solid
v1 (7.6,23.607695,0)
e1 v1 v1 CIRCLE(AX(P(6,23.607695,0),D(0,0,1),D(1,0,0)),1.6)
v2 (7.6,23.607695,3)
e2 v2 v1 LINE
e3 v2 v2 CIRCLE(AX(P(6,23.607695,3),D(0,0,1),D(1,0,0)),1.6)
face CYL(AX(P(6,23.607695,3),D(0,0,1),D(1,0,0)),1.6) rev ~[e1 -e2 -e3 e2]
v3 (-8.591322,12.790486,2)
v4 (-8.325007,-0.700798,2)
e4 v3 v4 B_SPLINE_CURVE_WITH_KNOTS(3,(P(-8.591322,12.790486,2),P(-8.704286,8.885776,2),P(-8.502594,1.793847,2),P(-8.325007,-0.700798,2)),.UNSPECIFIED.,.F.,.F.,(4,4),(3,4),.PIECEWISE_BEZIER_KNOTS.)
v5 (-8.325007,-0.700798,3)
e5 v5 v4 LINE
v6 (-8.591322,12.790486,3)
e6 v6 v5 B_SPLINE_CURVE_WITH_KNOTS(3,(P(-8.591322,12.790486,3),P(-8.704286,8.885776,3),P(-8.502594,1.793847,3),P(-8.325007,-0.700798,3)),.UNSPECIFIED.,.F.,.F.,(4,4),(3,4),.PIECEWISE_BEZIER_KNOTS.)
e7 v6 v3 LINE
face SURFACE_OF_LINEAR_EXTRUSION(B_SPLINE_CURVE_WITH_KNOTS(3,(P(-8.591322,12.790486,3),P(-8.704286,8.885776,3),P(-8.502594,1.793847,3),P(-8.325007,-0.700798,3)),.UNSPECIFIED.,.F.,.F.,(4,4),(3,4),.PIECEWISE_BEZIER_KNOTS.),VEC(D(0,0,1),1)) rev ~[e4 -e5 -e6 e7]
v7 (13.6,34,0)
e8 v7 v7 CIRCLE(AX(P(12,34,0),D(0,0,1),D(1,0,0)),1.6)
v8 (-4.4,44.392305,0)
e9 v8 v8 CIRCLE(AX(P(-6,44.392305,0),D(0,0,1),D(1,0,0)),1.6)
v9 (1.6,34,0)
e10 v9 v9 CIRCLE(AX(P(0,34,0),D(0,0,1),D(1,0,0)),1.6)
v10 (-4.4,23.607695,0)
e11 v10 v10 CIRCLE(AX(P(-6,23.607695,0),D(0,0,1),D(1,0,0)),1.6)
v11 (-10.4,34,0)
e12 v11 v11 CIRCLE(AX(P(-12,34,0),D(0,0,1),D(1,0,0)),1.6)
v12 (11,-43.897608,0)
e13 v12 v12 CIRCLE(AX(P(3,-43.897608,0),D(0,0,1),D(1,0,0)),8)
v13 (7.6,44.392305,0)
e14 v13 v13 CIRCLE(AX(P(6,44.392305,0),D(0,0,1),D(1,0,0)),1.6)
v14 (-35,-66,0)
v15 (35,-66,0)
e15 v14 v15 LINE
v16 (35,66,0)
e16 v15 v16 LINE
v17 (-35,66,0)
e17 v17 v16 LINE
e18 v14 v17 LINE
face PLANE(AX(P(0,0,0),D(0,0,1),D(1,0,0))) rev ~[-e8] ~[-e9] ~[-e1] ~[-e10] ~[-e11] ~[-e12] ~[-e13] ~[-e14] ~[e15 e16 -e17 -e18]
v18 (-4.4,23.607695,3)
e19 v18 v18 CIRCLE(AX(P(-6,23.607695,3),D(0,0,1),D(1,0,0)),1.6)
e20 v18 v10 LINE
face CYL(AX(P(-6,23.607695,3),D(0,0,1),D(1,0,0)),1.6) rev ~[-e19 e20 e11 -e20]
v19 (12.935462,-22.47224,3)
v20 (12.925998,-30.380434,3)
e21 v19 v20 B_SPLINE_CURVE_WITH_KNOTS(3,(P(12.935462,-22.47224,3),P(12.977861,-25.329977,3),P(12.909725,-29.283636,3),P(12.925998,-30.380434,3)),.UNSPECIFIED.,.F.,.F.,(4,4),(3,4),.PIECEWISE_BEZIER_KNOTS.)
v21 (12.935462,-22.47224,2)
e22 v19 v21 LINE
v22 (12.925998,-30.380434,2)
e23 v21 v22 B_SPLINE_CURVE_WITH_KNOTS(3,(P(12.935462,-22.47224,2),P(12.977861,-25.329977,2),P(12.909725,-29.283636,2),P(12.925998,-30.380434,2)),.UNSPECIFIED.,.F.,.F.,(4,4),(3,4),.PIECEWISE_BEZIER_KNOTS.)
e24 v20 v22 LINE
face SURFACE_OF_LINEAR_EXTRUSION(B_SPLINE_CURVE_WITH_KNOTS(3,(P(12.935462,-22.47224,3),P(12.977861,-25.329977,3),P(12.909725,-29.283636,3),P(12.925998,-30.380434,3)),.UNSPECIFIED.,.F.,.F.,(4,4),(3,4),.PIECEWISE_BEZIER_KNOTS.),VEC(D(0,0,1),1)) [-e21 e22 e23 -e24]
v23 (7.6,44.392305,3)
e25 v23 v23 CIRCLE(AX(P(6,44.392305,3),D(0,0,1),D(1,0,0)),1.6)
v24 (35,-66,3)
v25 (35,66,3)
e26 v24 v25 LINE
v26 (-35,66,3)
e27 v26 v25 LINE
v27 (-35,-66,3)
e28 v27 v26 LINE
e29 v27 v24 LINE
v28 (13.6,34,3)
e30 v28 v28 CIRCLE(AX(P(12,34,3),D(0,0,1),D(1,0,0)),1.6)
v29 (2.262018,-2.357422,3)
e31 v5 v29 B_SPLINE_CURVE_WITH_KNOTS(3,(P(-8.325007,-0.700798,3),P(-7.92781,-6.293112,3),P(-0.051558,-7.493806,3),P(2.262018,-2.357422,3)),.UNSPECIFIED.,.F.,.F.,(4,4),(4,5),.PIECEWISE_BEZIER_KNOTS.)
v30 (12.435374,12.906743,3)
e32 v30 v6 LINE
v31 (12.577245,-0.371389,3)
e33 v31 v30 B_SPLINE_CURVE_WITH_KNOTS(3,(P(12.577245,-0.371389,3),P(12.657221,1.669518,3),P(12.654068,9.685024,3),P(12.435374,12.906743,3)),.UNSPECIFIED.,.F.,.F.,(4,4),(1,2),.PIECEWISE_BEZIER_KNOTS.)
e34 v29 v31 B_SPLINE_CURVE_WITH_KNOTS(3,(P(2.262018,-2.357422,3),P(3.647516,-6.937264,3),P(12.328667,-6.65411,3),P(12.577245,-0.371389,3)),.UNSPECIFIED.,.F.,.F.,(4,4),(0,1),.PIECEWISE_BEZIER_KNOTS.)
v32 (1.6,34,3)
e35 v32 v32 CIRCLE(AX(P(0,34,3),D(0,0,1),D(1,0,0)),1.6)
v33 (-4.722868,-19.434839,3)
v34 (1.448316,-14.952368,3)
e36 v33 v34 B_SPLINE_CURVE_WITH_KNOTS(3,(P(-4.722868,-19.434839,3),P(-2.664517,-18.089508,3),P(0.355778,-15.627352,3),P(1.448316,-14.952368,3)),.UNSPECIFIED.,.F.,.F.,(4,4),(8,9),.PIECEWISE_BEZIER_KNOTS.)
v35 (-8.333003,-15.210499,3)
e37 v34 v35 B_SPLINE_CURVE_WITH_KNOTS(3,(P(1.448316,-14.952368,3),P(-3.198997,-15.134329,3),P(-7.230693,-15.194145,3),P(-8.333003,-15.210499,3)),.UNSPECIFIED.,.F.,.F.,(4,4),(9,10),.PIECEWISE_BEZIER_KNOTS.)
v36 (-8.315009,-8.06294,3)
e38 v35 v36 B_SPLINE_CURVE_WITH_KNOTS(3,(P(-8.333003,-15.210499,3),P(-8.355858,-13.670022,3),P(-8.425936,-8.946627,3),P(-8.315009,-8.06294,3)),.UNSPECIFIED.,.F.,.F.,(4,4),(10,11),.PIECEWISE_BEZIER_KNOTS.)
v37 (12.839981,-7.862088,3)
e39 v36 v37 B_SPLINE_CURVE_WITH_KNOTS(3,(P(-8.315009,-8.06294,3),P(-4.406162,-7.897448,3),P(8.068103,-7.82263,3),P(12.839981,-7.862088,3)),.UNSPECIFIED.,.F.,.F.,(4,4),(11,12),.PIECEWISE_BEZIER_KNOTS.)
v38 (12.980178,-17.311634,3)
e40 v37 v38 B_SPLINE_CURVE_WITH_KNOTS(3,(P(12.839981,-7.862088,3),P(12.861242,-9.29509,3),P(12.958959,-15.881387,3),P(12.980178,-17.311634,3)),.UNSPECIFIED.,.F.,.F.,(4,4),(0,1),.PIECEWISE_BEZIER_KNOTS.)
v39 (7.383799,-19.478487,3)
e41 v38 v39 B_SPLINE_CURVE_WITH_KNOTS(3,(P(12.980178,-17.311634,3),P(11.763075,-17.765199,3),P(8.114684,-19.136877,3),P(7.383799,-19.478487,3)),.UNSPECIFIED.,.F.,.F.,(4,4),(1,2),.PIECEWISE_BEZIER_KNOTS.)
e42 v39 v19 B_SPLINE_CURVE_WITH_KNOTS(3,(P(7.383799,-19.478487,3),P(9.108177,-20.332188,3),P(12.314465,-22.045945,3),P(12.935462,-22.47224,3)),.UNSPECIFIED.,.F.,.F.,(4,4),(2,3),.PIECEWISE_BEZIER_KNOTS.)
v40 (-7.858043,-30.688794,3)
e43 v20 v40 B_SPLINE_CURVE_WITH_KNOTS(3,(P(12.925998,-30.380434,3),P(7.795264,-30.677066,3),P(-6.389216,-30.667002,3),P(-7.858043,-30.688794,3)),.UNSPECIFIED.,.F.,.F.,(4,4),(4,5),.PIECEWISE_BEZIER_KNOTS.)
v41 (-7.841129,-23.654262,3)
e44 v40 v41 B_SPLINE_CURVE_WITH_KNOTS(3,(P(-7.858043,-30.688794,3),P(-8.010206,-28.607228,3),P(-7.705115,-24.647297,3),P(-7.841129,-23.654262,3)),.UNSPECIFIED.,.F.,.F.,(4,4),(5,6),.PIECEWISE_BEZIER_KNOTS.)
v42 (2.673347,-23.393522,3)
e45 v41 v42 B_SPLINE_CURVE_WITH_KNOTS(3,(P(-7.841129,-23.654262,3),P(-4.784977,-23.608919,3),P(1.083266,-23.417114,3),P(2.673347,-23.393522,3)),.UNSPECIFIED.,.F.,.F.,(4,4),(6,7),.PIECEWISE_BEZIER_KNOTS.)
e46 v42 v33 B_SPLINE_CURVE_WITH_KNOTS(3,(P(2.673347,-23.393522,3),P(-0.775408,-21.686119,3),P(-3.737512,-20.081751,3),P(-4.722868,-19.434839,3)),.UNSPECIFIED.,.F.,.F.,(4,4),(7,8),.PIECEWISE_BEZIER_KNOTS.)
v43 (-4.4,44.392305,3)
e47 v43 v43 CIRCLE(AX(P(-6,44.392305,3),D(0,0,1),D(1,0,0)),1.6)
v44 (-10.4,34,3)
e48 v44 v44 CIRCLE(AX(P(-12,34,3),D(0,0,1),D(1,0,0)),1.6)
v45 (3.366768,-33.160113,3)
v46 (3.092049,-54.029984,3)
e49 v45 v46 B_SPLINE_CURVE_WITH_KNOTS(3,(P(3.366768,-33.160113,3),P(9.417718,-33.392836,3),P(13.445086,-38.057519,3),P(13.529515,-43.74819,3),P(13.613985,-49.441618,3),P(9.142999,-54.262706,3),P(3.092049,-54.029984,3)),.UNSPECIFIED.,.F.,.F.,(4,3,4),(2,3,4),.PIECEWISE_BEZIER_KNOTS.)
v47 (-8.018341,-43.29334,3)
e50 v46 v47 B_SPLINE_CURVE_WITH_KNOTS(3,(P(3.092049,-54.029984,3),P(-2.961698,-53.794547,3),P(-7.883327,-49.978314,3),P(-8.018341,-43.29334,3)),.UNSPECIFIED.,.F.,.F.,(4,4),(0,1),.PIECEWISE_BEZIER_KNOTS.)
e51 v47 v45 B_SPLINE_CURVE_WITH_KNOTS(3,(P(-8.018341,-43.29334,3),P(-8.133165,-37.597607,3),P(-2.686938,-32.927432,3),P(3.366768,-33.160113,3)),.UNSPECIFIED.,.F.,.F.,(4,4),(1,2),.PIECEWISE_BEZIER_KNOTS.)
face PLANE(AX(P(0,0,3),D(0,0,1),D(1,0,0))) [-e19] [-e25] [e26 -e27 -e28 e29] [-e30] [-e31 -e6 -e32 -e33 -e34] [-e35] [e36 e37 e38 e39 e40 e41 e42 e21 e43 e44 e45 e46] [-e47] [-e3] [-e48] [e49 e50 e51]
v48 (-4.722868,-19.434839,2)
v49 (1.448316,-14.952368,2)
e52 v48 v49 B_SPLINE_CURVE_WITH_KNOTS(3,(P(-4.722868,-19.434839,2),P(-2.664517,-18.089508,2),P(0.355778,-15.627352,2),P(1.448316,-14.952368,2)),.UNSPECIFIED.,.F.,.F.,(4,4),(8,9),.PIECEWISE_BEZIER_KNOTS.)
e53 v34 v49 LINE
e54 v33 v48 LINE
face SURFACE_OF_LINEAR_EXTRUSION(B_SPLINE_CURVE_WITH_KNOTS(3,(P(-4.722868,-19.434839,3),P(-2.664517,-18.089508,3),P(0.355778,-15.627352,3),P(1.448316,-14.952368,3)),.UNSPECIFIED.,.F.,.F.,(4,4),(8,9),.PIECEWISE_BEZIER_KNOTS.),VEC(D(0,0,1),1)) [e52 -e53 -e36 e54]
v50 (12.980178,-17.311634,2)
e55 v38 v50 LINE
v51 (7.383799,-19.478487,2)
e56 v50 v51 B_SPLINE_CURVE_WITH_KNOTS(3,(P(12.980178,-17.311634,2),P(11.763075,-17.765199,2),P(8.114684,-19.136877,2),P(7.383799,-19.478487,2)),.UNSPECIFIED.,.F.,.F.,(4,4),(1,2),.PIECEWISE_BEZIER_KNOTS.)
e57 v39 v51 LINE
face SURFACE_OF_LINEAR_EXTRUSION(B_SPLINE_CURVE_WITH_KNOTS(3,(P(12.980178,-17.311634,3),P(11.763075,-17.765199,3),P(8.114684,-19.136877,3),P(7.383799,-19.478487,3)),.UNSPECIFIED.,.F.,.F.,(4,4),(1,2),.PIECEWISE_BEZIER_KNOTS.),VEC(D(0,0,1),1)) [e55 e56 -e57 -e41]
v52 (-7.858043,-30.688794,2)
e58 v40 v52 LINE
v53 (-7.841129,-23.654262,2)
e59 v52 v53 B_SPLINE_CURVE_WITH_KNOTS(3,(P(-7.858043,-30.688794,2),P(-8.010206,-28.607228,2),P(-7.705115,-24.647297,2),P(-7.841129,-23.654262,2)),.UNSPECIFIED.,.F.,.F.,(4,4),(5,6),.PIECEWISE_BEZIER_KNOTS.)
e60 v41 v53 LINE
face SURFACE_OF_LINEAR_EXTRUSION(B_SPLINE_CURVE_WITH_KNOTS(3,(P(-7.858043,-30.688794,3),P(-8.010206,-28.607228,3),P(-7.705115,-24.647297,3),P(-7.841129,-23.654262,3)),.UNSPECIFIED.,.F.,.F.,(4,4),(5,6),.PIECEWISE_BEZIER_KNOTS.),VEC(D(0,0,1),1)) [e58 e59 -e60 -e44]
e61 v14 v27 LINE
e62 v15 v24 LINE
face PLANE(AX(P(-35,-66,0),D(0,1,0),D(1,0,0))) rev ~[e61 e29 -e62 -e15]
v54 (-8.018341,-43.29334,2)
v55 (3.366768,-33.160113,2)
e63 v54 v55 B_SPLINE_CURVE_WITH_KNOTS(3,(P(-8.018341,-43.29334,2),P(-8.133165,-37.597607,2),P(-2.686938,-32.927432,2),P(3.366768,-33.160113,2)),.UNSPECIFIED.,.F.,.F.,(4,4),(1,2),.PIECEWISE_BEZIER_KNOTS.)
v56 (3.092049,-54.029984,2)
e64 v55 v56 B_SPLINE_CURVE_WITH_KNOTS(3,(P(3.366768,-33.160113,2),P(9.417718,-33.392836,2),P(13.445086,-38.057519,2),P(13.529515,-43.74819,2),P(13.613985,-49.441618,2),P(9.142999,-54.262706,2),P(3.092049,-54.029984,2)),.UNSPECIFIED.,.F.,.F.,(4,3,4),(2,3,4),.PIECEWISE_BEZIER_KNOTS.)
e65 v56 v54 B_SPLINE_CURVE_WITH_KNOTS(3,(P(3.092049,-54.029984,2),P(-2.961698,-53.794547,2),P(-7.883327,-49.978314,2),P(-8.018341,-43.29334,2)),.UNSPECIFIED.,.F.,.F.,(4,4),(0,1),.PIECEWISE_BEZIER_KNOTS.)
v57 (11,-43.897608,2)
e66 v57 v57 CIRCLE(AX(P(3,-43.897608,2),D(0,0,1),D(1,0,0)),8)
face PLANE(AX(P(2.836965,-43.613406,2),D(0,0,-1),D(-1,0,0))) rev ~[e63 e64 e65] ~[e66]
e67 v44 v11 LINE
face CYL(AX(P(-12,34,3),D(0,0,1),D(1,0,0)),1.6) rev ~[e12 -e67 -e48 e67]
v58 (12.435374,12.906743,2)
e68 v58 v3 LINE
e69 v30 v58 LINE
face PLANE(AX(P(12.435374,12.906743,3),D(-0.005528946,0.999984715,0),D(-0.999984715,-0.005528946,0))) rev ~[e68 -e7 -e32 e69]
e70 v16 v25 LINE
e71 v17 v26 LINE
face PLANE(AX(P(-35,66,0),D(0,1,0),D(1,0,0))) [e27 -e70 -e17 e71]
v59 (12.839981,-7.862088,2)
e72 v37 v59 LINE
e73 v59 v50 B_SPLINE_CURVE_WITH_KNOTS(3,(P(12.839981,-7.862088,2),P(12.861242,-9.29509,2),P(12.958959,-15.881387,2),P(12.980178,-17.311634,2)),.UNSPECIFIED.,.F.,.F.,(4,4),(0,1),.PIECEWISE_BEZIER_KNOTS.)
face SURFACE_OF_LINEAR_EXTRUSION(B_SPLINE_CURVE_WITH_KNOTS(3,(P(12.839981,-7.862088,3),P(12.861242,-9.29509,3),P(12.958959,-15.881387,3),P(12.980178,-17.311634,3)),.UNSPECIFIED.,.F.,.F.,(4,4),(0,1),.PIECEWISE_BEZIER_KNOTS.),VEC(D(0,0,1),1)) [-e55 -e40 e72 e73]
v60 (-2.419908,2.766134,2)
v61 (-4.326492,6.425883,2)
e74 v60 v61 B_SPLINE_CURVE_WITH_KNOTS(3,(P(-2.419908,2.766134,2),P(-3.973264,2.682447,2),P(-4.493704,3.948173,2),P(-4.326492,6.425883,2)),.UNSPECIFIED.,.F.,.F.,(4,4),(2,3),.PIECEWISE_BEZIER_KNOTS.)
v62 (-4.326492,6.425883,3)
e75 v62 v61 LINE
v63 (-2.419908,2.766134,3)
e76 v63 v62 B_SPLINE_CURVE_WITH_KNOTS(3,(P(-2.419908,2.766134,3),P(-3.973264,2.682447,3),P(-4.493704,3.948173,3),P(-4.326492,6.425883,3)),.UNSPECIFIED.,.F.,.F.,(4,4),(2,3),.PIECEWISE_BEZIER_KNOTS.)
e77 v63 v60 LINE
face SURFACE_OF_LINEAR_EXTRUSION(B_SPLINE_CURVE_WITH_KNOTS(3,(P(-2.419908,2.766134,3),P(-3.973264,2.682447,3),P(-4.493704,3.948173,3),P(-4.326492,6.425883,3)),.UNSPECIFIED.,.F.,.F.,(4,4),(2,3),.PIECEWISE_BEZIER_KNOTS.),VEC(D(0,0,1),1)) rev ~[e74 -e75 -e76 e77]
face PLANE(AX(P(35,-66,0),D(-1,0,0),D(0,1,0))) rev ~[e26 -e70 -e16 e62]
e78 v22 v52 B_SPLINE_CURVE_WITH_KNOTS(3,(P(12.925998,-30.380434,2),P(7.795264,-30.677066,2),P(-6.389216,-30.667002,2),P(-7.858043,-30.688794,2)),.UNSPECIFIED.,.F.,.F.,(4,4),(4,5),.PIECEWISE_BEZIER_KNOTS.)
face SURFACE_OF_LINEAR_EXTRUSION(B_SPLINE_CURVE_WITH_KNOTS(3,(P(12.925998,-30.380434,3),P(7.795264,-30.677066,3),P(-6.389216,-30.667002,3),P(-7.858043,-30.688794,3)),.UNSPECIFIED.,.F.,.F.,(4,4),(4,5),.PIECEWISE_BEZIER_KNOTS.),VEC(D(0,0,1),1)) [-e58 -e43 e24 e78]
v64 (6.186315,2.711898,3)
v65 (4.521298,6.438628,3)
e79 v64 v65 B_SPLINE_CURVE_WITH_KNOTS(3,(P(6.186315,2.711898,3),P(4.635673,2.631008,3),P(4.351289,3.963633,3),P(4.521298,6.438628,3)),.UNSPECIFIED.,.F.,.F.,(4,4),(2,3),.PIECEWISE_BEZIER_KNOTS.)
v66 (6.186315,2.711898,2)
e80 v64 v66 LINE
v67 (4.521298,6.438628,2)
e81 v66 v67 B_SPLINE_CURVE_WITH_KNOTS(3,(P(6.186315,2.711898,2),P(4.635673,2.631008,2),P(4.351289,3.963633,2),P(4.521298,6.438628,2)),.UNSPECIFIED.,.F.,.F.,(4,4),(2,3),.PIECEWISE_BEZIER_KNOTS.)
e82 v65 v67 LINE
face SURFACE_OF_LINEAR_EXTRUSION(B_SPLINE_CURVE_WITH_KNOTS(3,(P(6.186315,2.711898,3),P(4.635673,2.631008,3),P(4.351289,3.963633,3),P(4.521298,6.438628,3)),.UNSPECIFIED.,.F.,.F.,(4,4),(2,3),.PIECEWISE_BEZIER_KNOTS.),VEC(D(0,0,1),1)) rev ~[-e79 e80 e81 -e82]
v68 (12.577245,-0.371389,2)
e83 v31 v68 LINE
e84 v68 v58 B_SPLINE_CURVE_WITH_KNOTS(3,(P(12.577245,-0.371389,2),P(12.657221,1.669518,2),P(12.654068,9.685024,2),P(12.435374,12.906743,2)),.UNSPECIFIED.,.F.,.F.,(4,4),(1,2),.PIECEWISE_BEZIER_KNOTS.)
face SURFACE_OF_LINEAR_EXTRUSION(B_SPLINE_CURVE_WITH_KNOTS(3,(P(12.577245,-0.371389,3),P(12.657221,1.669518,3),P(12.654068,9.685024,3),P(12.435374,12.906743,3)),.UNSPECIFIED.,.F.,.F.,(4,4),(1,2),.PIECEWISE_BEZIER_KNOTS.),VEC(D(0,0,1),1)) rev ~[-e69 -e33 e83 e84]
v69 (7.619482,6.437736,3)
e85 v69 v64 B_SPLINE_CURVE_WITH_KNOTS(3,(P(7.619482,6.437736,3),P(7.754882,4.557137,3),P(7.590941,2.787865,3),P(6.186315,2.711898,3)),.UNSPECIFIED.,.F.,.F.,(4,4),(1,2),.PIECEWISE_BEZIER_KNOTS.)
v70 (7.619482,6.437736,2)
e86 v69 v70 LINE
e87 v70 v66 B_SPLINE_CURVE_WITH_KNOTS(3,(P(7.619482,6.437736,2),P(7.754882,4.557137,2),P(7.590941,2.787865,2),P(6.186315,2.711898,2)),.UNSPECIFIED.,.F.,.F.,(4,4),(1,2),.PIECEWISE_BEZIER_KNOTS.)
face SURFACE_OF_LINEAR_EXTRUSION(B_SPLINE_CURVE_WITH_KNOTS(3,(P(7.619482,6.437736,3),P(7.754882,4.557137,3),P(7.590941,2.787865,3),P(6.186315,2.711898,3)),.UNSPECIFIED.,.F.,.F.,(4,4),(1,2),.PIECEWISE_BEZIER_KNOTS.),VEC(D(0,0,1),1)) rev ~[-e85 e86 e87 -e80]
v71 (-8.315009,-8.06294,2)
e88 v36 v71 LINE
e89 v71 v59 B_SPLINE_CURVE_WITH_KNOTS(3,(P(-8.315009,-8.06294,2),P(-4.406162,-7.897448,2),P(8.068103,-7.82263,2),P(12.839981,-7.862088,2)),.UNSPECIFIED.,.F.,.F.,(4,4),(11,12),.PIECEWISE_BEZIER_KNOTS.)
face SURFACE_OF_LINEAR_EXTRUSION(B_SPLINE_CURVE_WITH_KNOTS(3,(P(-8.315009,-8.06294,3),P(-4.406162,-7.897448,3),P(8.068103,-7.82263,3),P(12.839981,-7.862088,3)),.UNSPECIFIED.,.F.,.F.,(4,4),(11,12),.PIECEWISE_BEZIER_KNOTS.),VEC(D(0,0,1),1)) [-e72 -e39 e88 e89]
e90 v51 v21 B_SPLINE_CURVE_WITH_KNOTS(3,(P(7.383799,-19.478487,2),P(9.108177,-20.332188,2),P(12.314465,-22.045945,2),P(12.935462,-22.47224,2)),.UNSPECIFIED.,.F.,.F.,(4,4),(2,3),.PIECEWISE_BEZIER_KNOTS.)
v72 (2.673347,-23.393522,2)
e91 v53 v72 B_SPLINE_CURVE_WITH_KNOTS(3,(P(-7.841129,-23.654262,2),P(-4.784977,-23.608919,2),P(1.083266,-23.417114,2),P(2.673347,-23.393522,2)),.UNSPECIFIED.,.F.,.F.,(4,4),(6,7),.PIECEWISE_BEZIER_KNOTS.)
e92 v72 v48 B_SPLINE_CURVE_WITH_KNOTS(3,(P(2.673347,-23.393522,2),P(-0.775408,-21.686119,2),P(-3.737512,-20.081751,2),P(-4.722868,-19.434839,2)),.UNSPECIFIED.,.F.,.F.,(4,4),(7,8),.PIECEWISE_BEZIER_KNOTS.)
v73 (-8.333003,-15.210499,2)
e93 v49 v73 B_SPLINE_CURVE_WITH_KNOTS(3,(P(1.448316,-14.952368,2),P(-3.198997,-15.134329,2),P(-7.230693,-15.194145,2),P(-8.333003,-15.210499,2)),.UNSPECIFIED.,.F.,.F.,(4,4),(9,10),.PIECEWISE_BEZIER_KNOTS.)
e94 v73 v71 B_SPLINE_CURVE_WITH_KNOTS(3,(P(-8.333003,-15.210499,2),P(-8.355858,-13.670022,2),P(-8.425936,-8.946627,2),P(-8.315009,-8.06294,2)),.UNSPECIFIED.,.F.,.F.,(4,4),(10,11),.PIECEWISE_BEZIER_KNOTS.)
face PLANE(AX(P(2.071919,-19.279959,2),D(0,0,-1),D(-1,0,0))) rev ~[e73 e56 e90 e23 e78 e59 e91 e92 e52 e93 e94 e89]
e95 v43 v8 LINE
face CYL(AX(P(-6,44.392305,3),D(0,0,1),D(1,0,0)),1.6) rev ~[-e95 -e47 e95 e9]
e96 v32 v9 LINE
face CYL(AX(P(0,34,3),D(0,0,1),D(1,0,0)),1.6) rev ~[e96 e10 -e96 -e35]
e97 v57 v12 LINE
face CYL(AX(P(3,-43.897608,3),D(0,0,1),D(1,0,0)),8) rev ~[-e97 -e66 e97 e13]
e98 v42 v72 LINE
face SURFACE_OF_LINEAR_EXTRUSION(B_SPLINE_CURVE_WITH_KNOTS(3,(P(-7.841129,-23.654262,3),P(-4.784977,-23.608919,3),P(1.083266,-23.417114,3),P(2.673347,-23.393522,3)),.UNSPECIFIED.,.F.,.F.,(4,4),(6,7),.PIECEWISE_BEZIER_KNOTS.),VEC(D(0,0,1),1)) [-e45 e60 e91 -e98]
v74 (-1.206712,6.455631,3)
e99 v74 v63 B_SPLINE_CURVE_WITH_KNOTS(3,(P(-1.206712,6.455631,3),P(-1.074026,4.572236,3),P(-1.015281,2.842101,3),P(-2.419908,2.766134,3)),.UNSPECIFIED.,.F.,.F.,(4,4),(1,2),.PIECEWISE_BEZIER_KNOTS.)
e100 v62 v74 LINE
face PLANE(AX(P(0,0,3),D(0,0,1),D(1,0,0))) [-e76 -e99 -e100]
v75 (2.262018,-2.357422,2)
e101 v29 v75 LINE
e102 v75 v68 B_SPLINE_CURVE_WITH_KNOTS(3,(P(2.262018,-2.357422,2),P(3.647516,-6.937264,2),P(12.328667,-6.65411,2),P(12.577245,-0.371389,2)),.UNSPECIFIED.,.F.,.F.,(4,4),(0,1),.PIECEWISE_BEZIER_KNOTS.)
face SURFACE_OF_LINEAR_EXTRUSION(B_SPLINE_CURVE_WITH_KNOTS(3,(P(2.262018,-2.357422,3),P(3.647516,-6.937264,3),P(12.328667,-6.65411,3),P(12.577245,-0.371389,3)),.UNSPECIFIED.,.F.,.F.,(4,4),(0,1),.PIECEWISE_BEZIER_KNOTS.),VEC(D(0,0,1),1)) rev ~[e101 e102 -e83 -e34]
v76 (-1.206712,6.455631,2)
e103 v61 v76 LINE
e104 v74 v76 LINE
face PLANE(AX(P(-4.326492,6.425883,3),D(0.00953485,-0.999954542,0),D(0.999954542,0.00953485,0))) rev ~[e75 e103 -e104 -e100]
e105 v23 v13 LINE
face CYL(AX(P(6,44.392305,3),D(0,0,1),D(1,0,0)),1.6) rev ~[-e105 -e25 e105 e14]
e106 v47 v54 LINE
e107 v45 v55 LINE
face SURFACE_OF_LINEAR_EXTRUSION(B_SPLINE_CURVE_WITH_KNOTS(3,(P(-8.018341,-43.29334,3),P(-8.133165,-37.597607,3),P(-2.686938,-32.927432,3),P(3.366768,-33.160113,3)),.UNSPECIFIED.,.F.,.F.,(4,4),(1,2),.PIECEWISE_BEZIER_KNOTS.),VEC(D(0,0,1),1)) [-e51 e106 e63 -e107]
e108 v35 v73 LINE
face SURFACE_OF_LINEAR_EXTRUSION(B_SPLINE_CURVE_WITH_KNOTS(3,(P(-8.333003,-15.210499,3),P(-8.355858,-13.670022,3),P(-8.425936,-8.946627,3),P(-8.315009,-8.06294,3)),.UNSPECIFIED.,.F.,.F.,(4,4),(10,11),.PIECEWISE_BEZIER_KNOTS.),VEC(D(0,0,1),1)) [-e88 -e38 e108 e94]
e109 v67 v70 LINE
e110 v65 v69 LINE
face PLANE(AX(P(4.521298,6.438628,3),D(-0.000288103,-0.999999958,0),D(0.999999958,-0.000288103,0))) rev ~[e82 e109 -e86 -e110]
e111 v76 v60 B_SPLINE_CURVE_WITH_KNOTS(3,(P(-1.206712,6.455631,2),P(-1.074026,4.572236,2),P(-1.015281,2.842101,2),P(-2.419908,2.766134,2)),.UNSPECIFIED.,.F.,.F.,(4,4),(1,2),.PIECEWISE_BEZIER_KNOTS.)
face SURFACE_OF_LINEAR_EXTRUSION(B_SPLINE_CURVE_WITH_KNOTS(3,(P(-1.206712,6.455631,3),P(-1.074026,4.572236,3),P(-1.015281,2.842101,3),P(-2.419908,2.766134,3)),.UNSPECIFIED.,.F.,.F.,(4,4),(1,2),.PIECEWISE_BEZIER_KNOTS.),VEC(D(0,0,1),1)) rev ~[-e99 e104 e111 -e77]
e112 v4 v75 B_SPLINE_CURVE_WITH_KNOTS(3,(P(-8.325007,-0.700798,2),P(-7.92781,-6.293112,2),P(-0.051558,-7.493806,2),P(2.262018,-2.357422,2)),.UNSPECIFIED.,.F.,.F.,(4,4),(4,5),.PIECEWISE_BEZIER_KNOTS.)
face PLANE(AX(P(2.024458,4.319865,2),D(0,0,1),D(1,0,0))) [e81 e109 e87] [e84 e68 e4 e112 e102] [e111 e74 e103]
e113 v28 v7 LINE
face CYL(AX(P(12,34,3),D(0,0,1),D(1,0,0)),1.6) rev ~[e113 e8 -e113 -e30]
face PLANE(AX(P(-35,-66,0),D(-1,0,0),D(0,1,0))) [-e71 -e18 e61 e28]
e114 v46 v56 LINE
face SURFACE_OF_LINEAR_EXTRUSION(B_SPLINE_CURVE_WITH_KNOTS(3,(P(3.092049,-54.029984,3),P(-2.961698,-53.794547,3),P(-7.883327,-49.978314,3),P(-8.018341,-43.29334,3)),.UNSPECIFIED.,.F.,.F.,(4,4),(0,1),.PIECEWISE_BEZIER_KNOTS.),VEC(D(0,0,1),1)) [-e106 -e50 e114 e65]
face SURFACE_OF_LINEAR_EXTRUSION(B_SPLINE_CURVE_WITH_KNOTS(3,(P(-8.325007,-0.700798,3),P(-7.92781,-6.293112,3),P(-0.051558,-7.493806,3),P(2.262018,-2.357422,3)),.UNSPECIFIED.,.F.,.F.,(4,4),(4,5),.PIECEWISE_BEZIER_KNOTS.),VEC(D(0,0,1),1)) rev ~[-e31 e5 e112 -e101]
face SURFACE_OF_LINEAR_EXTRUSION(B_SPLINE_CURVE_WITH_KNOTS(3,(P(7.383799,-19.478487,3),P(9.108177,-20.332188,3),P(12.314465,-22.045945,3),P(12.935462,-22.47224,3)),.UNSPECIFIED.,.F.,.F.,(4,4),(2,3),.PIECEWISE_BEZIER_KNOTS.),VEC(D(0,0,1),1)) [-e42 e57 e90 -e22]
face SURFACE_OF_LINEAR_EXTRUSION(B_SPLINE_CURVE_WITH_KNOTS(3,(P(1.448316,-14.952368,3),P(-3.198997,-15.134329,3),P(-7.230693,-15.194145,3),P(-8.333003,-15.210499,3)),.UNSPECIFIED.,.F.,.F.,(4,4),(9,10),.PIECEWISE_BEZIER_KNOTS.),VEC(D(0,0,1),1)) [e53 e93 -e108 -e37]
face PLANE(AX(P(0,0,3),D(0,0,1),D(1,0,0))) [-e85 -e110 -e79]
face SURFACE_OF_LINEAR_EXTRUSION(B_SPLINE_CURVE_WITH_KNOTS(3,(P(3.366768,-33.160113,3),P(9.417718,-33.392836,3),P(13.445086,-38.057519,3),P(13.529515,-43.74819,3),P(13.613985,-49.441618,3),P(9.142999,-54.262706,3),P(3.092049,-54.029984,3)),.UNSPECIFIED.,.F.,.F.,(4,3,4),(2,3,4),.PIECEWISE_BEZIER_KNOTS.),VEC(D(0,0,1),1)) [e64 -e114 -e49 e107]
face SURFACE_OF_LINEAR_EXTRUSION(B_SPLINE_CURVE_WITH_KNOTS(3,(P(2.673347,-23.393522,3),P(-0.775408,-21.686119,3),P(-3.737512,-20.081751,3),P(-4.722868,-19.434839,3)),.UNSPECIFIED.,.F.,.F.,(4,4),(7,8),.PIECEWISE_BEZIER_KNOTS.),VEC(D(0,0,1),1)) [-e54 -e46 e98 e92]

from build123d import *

# Parameters (mm, degrees)
SKETCH1_W           = 70
SKETCH1_H           = 132
BOSS_EXTRUDE1_DEPTH = 3
SKETCH2_R           = 1.6
SKETCH2_R_2         = 8
CUT_EXTRUDE1_DEPTH  = 75.76630257
CUT_EXTRUDE4_DEPTH  = 1


with BuildPart() as part:
    # Sketch1 → Boss-Extrude1 (new body)
    with BuildSketch(Plane.XY):
        Rectangle(SKETCH1_W, SKETCH1_H)
    extrude(amount=BOSS_EXTRUDE1_DEPTH)

    # Sketch2 → Cut-Extrude1 (cut, through all)
    with BuildSketch(Plane.XY.offset(3)):
        with Locations((0, 34)):
            Circle(SKETCH2_R)
        with Locations((12, 34)):
            Circle(SKETCH2_R)
        with Locations((6, 23.607695155)):
            Circle(SKETCH2_R)
        with Locations((-6, 23.607695155)):
            Circle(SKETCH2_R)
        with Locations((-12, 34)):
            Circle(SKETCH2_R)
        with Locations((-6, 44.392304845)):
            Circle(SKETCH2_R)
        with Locations((6, 44.392304845)):
            Circle(SKETCH2_R)
        with Locations((3, -43.897608135)):
            Circle(SKETCH2_R_2)
    extrude(amount=-CUT_EXTRUDE1_DEPTH, mode=Mode.SUBTRACT)

    # Sketch4 → Cut-Extrude4 (cut)
    # profile 1 of 3: a face of its own
    with BuildSketch(Plane.XY.offset(3)):
        with BuildLine():
            Line((12.435373561, 12.906743281), (-8.591322356, 12.79048604))
            add(Edge.make_bspline(
                [(-8.591322356, 12.79048604), (-8.704286114, 8.885776406), (-8.502594221, 1.79384743), (-8.325007333, -0.700797834)],
                knots=[3, 3, 3, 3, 4, 4, 4, 4], degree=3))
            add(Edge.make_bspline(
                [(-8.325007333, -0.700797834), (-7.927810309, -6.293112042), (-0.051557809, -7.493806409), (2.262018013, -2.357422472)],
                knots=[4, 4, 4, 4, 5, 5, 5, 5], degree=3))
            add(Edge.make_bspline(
                [(2.262018013, -2.357422472), (3.647515819, -6.937264415), (12.328667278, -6.654110228), (12.577245481, -0.371389262)],
                knots=[0, 0, 0, 0, 1, 1, 1, 1], degree=3))
            add(Edge.make_bspline(
                [(12.577245481, -0.371389262), (12.657220975, 1.669518266), (12.654067782, 9.68502366), (12.435373561, 12.906743281)],
                knots=[1, 1, 1, 1, 2, 2, 2, 2], degree=3))
        make_face()
        with BuildLine():
            Line((-4.326492155, 6.425883244), (-1.206711683, 6.455631236))
            add(Edge.make_bspline(
                [(-1.206711683, 6.455631236), (-1.074026475, 4.572236089), (-1.015280968, 2.842101206), (-2.419907538, 2.766134029)],
                knots=[1, 1, 1, 1, 2, 2, 2, 2], degree=3))
            add(Edge.make_bspline(
                [(-2.419907538, 2.766134029), (-3.973264085, 2.682447476), (-4.493703991, 3.948173451), (-4.326492155, 6.425883244)],
                knots=[2, 2, 2, 2, 3, 3, 3, 3], degree=3))
        make_face(mode=Mode.SUBTRACT)
        with BuildLine():
            Line((4.521297604, 6.43862815), (7.619481633, 6.437735553))
            add(Edge.make_bspline(
                [(7.619481633, 6.437735553), (7.754881729, 4.557137064), (7.590941128, 2.787865388), (6.186314558, 2.711898211)],
                knots=[1, 1, 1, 1, 2, 2, 2, 2], degree=3))
            add(Edge.make_bspline(
                [(6.186314558, 2.711898211), (4.635672899, 2.631008317), (4.351289109, 3.963633245), (4.521297604, 6.43862815)],
                knots=[2, 2, 2, 2, 3, 3, 3, 3], degree=3))
        make_face(mode=Mode.SUBTRACT)
    # profile 2 of 3: a face of its own
    with BuildSketch(Plane.XY.offset(3)):
        with BuildLine():
            add(Edge.make_bspline(
                [(3.36676789, -33.160113435), (9.417717715, -33.392835626), (13.445086014, -38.057518842), (13.529515019, -43.748190308), (13.613984909, -49.441617546), (9.14299869, -54.262705816), (3.092048865, -54.029983625)],
                knots=[2, 2, 2, 2, 3, 3, 3, 4, 4, 4, 4], degree=3))
            add(Edge.make_bspline(
                [(3.092048865, -54.029983625), (-2.961697619, -53.794546546), (-7.883326898, -49.978313982), (-8.018340697, -43.29333994)],
                knots=[0, 0, 0, 0, 1, 1, 1, 1], degree=3))
            add(Edge.make_bspline(
                [(-8.018340697, -43.29333994), (-8.133164977, -37.597606671), (-2.686937708, -32.927432129), (3.36676789, -33.160113435)],
                knots=[1, 1, 1, 1, 2, 2, 2, 2], degree=3))
        make_face()
    # profile 3 of 3: a face of its own
    with BuildSketch(Plane.XY.offset(3)):
        with BuildLine():
            add(Edge.make_bspline(
                [(-8.315009416, -8.062939687), (-4.406161921, -7.897447705), (8.068102589, -7.822629876), (12.839981265, -7.862087625)],
                knots=[11, 11, 11, 11, 12, 12, 12, 12], degree=3))
            add(Edge.make_bspline(
                [(12.839981265, -7.862087625), (12.861241838, -9.29508964), (12.9589587, -15.881387365), (12.980178387, -17.311633608)],
                knots=[0, 0, 0, 0, 1, 1, 1, 1], degree=3))
            add(Edge.make_bspline(
                [(12.980178387, -17.311633608), (11.763075071, -17.765199017), (8.114684439, -19.13687745), (7.383799305, -19.47848671)],
                knots=[1, 1, 1, 1, 2, 2, 2, 2], degree=3))
            add(Edge.make_bspline(
                [(7.383799305, -19.47848671), (9.108176948, -20.332188301), (12.314465086, -22.045945199), (12.935462432, -22.472239835)],
                knots=[2, 2, 2, 2, 3, 3, 3, 3], degree=3))
            add(Edge.make_bspline(
                [(12.935462432, -22.472239835), (12.97786092, -25.329976547), (12.909725475, -29.283635925), (12.92599799, -30.380433621)],
                knots=[3, 3, 3, 3, 4, 4, 4, 4], degree=3))
            add(Edge.make_bspline(
                [(12.92599799, -30.380433621), (7.795263549, -30.67706556), (-6.389215715, -30.667001608), (-7.858042781, -30.688793695)],
                knots=[4, 4, 4, 4, 5, 5, 5, 5], degree=3))
            add(Edge.make_bspline(
                [(-7.858042781, -30.688793695), (-8.0102064, -28.607228198), (-7.705115353, -24.647296875), (-7.841129113, -23.654261755)],
                knots=[5, 5, 5, 5, 6, 6, 6, 6], degree=3))
            add(Edge.make_bspline(
                [(-7.841129113, -23.654261755), (-4.784976738, -23.608919496), (1.083266322, -23.417113542), (2.673347405, -23.393522483)],
                knots=[6, 6, 6, 6, 7, 7, 7, 7], degree=3))
            add(Edge.make_bspline(
                [(2.673347405, -23.393522483), (-0.775407881, -21.686119301), (-3.737511671, -20.081751157), (-4.722867923, -19.434839155)],
                knots=[7, 7, 7, 7, 8, 8, 8, 8], degree=3))
            add(Edge.make_bspline(
                [(-4.722867923, -19.434839155), (-2.664517487, -18.089507553), (0.355778115, -15.627352279), (1.448315671, -14.952368219)],
                knots=[8, 8, 8, 8, 9, 9, 9, 9], degree=3))
            add(Edge.make_bspline(
                [(1.448315671, -14.952368219), (-3.198997245, -15.134329121), (-7.2306933, -15.194144924), (-8.333002543, -15.21049921)],
                knots=[9, 9, 9, 9, 10, 10, 10, 10], degree=3))
            add(Edge.make_bspline(
                [(-8.333002543, -15.21049921), (-8.355857659, -13.670022044), (-8.425935777, -8.946626939), (-8.315009416, -8.062939687)],
                knots=[10, 10, 10, 10, 11, 11, 11, 11], degree=3))
        make_face()
    extrude(amount=-CUT_EXTRUDE4_DEPTH, mode=Mode.SUBTRACT)


solid = part.part
